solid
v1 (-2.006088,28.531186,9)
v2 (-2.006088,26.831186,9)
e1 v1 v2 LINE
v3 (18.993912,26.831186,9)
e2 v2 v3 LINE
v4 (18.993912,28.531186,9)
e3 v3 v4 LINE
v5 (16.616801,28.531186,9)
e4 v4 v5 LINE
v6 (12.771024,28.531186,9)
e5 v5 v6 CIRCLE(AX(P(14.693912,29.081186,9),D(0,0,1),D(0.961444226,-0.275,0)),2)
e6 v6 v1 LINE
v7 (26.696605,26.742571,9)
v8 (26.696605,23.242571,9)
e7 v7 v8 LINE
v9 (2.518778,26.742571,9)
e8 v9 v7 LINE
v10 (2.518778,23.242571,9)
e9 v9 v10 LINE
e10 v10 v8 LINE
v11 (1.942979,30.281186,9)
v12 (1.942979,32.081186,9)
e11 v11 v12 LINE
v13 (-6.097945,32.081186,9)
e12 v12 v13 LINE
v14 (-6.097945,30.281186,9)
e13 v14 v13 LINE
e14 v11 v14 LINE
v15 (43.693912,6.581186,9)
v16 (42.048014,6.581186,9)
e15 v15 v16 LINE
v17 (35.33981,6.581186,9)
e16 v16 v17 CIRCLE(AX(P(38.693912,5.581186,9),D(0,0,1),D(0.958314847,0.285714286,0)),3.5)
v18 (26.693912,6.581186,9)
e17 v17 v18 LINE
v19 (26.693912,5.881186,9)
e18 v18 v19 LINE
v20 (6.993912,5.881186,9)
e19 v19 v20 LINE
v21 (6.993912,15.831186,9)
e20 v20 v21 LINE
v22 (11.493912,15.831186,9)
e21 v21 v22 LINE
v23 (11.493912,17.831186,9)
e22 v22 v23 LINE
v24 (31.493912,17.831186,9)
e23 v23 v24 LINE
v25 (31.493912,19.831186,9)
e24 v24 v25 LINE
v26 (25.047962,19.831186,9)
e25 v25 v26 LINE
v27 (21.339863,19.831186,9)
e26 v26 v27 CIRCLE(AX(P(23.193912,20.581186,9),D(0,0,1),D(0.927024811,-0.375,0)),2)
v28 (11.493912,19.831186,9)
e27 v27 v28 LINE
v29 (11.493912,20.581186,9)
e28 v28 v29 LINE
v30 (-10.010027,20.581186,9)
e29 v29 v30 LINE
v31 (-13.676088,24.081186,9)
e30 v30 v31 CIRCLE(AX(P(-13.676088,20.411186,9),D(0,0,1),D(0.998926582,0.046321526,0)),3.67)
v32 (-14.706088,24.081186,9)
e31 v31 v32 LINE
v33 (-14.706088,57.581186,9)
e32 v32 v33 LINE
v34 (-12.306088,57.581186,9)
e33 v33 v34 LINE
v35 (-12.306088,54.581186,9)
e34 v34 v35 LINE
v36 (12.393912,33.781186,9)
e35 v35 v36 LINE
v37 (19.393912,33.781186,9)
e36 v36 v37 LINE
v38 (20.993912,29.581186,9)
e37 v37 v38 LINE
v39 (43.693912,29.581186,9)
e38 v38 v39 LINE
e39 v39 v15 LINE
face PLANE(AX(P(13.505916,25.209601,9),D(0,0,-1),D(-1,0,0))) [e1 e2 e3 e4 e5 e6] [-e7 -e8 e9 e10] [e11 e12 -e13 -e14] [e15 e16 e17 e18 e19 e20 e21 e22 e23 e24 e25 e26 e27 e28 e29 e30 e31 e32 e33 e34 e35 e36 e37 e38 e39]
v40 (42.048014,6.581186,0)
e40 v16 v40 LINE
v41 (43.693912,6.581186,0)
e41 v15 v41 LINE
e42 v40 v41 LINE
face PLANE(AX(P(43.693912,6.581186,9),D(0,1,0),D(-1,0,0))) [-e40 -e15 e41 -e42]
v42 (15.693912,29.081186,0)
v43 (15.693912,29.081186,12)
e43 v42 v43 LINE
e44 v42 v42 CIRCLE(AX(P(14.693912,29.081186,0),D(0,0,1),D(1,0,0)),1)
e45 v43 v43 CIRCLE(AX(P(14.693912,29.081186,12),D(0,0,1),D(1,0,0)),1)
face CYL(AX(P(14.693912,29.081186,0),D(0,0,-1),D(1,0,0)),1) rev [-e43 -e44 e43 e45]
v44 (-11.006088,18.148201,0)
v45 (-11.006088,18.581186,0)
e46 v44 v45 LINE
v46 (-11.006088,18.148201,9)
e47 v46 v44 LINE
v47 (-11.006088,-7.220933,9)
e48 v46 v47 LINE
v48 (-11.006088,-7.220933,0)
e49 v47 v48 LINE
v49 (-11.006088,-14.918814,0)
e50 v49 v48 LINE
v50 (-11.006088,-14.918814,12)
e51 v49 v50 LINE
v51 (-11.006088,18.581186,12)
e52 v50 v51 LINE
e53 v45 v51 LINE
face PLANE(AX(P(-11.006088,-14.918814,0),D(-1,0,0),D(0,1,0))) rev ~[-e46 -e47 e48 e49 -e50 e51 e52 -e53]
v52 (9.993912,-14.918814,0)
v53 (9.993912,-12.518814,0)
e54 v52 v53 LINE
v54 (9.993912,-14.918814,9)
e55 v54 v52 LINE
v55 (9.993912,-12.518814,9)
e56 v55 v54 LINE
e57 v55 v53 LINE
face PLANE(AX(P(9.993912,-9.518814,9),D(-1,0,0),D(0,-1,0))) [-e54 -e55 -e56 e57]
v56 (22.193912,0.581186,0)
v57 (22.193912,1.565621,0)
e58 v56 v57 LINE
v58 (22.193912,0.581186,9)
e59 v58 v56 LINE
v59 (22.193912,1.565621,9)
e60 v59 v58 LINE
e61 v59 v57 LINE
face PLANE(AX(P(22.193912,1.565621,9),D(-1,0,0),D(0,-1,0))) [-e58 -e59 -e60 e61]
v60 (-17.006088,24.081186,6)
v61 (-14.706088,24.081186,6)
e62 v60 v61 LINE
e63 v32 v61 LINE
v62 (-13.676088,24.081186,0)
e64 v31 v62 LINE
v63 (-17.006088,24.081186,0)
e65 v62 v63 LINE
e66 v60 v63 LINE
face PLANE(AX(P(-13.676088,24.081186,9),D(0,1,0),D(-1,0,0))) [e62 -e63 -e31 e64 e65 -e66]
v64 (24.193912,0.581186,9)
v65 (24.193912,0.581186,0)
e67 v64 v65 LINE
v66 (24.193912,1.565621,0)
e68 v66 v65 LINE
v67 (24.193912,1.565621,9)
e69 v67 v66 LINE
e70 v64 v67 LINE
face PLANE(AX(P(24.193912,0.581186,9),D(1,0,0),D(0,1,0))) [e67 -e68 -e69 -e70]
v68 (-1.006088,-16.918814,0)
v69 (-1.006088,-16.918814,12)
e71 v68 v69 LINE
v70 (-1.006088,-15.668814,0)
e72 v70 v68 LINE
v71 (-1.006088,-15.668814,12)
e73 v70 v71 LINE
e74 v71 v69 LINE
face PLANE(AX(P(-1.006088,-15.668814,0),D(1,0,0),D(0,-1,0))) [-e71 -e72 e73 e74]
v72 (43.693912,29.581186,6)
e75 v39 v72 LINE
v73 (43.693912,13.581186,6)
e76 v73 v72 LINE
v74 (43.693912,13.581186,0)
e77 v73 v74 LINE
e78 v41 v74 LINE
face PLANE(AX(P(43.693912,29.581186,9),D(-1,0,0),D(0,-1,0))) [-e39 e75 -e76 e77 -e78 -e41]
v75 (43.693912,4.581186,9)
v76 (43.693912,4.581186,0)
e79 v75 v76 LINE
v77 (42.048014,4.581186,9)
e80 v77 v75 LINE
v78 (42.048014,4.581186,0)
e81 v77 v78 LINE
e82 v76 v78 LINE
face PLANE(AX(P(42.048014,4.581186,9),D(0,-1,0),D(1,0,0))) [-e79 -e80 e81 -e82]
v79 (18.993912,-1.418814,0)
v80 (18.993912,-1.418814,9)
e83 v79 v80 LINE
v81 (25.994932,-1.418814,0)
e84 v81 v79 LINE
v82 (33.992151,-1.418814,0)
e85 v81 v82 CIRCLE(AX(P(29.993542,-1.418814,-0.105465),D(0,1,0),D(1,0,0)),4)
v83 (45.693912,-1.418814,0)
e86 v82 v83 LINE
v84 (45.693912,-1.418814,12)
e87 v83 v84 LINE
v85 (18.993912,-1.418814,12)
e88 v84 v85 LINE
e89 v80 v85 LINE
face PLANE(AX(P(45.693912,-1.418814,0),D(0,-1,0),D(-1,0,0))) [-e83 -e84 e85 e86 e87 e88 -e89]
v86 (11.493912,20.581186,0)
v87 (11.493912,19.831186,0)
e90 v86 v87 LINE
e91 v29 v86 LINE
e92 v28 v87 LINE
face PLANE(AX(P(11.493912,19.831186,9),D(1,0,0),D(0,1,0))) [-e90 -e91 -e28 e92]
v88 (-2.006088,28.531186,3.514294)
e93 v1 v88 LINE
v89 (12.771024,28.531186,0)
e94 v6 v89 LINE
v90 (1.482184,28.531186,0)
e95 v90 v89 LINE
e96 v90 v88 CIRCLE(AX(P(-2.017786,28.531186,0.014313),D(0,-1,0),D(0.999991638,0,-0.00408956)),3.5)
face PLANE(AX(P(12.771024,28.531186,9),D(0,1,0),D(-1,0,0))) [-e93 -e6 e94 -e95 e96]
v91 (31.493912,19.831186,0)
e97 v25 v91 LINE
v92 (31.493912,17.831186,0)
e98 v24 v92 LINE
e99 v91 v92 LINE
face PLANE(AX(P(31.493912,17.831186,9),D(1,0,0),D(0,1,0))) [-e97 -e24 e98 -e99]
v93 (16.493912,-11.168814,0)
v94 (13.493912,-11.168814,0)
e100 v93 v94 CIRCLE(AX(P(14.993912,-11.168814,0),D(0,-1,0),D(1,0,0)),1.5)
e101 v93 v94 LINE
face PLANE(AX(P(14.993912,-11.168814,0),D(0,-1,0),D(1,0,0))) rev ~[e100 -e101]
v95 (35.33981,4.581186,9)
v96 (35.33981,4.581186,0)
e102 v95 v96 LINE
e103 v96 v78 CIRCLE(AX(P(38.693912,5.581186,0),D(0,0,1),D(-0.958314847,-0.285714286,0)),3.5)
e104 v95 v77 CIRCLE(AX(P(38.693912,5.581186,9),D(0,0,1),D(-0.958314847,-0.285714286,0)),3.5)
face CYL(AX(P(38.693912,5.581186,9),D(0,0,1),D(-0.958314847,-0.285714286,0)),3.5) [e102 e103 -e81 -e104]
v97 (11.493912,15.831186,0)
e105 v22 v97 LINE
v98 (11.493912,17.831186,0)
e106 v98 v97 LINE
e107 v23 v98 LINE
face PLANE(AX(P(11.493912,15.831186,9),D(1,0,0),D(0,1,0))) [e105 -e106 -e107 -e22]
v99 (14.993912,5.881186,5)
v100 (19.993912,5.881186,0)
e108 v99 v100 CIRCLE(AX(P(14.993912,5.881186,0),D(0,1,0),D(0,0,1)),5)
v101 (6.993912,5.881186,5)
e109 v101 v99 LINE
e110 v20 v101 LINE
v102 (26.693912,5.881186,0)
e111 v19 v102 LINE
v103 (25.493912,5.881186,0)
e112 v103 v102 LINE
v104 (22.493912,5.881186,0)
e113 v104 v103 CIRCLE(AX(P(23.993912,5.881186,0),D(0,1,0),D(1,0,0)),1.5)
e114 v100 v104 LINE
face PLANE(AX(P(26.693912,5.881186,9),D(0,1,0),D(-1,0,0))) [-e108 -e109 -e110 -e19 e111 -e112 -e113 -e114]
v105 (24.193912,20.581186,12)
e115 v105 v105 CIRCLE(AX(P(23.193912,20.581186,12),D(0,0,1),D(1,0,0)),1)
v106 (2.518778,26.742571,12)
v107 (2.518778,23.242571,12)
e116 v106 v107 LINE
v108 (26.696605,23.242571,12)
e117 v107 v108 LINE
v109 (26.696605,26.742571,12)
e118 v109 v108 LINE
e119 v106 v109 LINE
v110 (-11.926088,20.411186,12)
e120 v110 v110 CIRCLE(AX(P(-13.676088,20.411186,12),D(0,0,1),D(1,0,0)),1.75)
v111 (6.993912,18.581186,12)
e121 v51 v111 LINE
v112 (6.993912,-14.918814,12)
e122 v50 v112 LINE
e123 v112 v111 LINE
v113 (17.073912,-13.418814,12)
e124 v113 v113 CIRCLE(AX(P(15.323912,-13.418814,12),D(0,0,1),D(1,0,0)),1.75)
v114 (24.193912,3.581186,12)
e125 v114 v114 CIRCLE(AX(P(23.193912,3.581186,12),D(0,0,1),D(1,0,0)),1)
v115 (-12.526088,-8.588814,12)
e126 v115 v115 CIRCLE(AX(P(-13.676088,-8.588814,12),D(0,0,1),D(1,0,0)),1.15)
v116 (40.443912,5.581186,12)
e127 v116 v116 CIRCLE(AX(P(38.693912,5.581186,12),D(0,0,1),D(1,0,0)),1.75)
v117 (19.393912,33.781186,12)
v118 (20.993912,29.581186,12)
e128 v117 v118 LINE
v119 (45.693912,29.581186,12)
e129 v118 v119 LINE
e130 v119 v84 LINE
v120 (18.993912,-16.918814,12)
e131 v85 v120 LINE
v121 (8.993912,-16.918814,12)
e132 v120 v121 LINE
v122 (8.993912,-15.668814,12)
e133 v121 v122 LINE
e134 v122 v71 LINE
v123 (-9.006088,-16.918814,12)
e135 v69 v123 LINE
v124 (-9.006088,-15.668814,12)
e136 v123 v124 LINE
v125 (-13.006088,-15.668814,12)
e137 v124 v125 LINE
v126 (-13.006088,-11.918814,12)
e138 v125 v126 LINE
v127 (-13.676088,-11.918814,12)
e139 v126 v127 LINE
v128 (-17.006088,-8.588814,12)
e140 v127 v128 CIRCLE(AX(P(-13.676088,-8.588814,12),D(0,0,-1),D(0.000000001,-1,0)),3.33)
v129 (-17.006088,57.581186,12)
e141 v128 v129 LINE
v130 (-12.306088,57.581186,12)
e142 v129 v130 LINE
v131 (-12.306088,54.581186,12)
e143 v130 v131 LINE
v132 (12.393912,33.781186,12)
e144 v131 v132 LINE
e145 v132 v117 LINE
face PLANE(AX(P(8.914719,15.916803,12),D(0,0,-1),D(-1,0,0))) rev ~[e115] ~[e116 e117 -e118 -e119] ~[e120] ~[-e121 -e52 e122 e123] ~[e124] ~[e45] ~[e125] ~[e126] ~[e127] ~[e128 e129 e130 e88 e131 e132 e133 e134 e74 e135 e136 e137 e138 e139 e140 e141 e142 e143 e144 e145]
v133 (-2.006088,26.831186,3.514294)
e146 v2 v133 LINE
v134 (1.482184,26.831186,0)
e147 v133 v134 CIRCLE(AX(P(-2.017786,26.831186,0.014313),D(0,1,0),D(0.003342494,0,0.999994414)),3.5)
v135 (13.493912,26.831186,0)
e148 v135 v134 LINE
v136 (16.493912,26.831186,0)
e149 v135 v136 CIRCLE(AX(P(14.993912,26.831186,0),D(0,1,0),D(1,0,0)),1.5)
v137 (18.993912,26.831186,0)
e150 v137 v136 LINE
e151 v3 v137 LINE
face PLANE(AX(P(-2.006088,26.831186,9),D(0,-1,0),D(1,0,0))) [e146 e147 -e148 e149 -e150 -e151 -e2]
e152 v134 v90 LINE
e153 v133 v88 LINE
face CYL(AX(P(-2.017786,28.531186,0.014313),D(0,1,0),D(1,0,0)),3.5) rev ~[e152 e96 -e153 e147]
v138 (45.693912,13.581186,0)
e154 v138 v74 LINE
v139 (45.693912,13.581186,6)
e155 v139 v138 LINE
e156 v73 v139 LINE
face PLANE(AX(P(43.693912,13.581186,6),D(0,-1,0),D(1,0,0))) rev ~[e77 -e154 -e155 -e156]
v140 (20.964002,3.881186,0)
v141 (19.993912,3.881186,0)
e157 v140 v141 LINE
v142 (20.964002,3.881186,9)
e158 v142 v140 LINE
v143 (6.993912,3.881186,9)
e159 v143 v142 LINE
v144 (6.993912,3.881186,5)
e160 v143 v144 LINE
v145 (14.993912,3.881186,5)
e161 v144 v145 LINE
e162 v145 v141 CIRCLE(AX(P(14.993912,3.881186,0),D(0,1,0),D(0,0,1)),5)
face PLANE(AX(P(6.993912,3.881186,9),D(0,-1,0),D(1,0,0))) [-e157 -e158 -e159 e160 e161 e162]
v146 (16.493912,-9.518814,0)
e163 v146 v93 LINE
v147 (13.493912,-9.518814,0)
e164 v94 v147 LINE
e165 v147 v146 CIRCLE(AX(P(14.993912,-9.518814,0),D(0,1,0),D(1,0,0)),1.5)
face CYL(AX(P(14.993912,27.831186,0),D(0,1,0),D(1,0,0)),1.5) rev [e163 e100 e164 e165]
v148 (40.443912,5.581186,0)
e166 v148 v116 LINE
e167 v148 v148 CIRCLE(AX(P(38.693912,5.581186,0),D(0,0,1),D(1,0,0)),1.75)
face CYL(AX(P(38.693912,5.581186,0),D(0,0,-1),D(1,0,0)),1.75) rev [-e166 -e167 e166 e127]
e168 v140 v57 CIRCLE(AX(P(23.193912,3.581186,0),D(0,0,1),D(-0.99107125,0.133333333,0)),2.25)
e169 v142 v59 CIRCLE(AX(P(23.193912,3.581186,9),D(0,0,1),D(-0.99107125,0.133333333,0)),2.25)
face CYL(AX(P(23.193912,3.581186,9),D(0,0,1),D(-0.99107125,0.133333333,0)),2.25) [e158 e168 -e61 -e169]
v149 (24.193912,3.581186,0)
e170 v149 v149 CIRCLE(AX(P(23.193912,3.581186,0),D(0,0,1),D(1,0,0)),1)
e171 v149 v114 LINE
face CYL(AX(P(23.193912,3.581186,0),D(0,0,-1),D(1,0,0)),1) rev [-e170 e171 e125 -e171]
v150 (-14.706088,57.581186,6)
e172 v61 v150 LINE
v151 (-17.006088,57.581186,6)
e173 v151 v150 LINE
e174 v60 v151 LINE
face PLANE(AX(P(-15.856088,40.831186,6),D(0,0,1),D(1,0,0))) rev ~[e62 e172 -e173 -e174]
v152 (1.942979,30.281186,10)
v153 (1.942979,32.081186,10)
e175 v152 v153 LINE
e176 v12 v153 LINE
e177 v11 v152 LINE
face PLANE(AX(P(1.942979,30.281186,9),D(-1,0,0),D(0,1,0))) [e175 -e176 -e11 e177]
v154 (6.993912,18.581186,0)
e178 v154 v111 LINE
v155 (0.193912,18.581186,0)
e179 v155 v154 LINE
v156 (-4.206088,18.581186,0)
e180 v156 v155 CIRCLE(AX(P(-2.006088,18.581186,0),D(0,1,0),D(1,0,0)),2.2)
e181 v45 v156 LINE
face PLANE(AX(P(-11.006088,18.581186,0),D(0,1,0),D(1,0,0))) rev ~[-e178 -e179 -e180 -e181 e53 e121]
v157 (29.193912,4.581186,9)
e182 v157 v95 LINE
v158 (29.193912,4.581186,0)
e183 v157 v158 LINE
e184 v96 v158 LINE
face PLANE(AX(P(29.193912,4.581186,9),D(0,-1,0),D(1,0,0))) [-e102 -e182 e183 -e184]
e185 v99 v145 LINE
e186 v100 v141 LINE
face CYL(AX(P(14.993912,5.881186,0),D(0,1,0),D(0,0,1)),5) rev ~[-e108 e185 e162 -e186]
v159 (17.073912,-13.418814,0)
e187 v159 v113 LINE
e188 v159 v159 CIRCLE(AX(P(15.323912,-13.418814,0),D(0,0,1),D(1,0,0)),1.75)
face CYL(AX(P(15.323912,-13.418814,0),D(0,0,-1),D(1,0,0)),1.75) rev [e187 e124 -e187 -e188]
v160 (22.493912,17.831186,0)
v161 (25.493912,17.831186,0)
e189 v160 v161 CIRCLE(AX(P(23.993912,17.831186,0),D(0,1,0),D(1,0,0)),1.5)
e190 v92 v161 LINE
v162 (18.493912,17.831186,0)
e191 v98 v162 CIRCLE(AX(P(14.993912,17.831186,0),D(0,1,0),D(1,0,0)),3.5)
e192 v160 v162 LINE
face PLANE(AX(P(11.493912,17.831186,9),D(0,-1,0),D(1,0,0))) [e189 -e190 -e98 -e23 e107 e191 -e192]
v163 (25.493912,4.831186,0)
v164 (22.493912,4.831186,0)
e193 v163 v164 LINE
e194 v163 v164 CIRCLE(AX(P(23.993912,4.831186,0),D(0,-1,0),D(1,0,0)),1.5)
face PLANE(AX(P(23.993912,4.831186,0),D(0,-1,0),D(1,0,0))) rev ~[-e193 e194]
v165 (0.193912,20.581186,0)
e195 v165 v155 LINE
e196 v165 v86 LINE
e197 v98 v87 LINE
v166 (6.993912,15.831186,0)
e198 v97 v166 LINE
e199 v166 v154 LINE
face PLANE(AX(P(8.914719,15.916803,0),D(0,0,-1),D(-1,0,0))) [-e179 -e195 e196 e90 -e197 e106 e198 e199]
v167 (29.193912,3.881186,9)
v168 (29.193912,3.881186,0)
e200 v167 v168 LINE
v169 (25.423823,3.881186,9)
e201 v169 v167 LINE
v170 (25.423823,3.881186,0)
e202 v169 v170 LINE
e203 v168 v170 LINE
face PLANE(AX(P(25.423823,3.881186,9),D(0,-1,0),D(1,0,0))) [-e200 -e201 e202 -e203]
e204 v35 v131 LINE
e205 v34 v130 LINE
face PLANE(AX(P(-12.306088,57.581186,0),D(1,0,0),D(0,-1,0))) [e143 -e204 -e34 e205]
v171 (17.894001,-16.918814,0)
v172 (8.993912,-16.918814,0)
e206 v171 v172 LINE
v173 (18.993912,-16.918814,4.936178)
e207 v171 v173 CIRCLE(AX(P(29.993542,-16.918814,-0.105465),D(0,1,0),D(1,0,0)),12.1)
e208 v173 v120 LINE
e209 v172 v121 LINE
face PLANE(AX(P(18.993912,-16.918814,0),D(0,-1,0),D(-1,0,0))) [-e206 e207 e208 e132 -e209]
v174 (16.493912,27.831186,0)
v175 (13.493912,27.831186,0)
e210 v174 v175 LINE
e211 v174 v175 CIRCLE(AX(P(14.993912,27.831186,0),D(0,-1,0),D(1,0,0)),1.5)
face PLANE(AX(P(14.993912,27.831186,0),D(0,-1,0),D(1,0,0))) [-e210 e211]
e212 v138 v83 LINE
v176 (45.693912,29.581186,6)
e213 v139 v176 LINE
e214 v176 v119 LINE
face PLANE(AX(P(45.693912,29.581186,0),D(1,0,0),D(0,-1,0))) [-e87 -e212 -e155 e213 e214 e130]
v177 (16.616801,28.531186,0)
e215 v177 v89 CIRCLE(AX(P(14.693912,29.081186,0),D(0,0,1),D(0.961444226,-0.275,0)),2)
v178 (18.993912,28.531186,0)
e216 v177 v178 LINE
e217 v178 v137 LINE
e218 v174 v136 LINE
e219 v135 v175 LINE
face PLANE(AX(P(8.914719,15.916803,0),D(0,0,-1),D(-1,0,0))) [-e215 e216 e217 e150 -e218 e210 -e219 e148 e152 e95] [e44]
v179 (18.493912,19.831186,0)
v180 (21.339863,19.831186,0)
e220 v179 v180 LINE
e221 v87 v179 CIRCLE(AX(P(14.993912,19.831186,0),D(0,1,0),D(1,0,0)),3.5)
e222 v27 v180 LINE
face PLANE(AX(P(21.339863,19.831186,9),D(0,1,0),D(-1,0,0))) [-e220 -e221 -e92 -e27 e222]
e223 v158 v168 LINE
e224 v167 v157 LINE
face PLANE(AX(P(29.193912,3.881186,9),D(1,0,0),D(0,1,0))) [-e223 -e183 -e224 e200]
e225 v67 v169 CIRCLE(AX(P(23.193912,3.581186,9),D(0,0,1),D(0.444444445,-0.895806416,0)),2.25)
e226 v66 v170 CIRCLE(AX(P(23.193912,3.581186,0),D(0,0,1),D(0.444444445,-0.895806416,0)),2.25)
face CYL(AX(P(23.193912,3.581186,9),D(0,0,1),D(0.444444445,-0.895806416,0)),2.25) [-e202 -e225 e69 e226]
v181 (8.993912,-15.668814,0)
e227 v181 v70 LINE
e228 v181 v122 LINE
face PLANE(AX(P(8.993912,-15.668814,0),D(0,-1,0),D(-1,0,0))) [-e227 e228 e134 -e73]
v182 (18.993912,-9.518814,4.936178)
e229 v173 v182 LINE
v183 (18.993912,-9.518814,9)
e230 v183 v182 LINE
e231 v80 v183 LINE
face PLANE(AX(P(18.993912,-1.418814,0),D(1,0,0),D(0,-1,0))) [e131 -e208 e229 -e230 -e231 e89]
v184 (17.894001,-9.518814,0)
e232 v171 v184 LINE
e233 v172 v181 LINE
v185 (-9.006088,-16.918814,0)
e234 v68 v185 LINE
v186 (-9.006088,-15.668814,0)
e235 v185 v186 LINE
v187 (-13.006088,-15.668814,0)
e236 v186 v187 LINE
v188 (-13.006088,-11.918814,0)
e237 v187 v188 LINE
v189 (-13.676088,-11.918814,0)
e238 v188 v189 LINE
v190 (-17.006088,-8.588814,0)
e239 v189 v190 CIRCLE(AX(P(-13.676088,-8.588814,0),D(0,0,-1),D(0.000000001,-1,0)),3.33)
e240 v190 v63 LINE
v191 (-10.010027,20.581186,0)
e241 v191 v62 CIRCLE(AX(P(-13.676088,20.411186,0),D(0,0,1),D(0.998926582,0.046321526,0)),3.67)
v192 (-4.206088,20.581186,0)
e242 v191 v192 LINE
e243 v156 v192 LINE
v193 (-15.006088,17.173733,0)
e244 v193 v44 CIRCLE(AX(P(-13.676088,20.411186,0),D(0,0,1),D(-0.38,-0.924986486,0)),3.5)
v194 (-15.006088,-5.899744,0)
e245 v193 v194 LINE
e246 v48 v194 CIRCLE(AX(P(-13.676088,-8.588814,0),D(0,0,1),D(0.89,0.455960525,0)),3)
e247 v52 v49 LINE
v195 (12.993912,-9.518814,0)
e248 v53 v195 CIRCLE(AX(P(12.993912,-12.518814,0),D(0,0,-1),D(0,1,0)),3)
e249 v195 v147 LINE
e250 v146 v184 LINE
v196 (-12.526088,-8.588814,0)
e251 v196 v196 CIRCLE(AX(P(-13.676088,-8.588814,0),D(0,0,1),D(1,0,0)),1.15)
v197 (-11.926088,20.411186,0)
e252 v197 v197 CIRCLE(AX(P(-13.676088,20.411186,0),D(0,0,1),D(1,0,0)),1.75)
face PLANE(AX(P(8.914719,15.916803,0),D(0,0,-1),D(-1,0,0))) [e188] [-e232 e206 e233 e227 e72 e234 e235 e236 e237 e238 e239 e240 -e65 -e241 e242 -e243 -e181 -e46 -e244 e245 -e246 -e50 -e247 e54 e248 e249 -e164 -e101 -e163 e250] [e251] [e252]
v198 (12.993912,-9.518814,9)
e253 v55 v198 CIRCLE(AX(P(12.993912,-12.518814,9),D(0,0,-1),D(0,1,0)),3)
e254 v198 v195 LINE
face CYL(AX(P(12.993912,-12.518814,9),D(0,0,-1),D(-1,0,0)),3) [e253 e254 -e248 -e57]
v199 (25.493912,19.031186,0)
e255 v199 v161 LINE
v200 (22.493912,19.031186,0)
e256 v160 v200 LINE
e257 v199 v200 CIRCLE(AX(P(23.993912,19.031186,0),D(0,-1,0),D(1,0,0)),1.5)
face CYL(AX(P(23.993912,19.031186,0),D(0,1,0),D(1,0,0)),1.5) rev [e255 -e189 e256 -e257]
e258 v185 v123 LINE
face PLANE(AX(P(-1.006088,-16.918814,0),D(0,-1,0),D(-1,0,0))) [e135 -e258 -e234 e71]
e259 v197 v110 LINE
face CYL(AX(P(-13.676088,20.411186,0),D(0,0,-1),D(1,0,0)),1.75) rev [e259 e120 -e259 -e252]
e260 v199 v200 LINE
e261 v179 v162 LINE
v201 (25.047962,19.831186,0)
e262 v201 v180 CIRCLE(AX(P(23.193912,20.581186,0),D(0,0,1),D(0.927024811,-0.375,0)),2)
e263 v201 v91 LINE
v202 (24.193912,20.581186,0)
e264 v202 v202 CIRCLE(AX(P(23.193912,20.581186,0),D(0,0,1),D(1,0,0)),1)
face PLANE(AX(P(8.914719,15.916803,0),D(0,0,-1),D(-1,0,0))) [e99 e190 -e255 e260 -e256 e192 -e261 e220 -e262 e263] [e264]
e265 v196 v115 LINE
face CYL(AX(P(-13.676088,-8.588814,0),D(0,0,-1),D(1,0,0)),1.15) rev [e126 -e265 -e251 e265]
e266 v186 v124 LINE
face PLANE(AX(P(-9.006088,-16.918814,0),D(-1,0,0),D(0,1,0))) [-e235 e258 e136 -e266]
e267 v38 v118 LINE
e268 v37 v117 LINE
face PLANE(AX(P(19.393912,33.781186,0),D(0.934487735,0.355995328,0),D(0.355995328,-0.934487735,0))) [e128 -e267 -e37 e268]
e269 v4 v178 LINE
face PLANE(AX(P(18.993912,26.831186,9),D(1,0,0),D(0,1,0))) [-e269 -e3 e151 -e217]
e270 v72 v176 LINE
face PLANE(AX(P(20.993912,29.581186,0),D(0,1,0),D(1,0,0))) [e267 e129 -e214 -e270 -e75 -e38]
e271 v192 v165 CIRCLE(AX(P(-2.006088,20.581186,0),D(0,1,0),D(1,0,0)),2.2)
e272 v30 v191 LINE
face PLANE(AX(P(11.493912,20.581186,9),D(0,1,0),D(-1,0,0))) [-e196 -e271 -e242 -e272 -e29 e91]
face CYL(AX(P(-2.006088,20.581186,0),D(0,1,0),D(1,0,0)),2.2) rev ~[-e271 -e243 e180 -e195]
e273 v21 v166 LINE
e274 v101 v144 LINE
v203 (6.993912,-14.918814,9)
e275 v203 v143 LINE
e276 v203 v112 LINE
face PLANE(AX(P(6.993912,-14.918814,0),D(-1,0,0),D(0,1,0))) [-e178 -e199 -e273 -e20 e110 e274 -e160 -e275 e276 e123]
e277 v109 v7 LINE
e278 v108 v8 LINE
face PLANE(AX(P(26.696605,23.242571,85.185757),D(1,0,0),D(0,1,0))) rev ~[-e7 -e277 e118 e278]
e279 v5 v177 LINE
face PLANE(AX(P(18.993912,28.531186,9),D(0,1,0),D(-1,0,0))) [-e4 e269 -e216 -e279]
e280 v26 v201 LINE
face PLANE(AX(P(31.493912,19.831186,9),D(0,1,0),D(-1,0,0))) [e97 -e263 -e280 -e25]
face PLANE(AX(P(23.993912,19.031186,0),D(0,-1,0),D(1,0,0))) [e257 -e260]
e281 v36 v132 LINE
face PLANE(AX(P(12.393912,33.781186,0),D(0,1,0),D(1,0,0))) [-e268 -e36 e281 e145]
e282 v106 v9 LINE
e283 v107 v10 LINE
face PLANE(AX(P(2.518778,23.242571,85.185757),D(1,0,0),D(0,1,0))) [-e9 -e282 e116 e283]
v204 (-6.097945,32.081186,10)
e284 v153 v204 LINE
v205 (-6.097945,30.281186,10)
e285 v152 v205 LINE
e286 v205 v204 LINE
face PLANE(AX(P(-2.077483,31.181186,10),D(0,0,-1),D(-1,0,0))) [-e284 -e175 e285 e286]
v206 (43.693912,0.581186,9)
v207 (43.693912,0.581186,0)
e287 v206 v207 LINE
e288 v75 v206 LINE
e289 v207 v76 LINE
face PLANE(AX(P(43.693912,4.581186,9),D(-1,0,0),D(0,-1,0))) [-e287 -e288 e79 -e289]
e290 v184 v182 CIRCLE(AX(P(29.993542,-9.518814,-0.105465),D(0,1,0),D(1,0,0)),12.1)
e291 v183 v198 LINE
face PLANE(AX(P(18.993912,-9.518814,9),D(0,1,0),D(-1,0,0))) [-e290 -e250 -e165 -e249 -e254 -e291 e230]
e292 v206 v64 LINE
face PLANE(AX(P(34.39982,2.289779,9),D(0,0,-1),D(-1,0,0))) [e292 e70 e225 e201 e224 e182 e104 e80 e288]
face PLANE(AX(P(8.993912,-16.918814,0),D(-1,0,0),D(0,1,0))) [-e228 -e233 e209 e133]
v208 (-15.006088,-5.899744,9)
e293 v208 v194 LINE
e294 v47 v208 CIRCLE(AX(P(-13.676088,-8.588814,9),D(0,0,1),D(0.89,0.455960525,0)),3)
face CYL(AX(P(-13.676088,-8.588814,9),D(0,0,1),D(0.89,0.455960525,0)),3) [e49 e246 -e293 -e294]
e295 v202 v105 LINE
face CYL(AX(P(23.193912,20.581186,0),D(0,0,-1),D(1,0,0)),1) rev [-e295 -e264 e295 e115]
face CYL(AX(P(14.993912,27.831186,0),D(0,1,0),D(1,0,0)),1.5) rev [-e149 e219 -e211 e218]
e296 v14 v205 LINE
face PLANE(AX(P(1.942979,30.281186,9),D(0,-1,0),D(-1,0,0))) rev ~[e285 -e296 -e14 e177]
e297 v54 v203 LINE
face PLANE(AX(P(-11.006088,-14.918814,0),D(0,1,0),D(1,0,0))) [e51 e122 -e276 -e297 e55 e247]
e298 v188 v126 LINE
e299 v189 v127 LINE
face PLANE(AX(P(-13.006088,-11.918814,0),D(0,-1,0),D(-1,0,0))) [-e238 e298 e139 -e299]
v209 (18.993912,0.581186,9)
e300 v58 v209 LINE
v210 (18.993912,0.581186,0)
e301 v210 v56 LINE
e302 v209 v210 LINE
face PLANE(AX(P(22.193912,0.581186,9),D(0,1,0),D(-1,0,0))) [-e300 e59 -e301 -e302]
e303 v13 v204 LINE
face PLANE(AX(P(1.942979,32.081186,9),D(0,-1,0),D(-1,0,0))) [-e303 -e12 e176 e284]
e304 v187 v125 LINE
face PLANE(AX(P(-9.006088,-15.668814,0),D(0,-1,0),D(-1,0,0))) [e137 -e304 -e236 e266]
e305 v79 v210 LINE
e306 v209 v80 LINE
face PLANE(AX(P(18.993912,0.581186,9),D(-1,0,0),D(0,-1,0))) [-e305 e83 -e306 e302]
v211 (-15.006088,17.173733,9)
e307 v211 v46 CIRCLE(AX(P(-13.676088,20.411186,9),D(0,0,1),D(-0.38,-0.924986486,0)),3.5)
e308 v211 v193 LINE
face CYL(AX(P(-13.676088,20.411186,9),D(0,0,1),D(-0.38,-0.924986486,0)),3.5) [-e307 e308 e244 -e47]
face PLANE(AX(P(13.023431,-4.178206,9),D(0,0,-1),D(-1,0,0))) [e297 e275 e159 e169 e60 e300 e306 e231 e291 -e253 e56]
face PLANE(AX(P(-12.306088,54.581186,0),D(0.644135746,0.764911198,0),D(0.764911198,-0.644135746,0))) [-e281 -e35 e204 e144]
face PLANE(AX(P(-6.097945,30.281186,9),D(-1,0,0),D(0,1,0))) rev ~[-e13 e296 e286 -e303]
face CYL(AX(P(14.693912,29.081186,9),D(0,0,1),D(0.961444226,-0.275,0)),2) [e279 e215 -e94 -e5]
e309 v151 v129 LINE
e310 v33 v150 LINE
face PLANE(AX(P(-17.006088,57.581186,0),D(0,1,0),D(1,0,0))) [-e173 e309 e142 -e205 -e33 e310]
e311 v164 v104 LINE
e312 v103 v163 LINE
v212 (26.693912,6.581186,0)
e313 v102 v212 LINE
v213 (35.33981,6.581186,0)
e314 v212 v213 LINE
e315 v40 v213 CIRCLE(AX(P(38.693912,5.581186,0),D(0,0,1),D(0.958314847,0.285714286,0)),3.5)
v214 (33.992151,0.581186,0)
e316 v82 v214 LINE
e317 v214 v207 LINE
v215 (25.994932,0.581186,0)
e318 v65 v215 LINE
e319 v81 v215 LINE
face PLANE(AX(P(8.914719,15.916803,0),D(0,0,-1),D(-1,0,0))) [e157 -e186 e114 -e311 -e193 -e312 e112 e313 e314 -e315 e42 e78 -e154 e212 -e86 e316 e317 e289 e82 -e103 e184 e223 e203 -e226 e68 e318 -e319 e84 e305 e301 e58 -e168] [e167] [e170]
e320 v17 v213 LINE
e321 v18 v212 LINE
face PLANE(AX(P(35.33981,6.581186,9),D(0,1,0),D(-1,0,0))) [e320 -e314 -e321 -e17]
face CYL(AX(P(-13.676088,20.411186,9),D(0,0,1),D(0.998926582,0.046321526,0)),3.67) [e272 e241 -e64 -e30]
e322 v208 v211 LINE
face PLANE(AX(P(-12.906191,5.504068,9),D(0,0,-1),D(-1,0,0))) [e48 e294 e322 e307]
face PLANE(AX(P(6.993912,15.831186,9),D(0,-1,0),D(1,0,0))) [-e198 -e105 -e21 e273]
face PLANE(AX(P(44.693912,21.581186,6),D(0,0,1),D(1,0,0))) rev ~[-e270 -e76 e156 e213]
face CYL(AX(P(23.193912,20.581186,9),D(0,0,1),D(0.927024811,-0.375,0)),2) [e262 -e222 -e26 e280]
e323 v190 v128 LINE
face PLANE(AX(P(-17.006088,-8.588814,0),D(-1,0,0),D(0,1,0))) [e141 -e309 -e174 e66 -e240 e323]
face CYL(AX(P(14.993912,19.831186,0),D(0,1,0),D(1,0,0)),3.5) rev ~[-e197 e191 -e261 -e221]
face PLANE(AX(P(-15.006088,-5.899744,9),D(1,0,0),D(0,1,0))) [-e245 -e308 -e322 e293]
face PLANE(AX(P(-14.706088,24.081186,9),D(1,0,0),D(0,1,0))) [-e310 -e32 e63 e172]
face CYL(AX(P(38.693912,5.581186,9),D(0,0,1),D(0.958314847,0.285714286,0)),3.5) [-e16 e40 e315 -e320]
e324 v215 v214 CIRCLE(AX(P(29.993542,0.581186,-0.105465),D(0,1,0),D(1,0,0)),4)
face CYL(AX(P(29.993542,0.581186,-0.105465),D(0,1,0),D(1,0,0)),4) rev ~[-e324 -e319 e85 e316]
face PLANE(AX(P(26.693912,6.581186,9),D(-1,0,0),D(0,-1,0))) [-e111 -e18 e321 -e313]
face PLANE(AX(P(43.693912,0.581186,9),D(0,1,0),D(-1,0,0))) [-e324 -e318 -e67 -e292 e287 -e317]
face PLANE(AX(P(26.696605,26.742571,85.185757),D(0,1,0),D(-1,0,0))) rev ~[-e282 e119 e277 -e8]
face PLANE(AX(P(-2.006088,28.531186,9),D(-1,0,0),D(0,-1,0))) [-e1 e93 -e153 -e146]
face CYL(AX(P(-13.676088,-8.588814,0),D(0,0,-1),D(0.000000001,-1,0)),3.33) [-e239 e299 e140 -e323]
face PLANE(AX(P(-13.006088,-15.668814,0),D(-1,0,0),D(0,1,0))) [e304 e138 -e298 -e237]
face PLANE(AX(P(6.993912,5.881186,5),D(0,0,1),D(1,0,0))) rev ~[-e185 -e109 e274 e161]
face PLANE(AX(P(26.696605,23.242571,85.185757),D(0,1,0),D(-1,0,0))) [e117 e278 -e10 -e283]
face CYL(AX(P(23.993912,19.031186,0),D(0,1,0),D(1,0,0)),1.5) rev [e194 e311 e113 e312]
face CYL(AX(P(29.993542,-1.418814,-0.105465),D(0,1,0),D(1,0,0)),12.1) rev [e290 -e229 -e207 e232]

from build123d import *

# Parameters (mm, degrees)
ESQUISSE1_R                   = 1.15
ESQUISSE1_R_2                 = 1.75
ESQUISSE1_R_3                 = 1
ESQUISSE1_W                   = 18
ESQUISSE1_H                   = 33.5
BOSS_EXTRU_2_DEPTH            = 12
ENL_V_MAT_EXTRU_1_DEPTH       = 75.057589753
ESQUISSE3_W                   = 2.3
ESQUISSE3_H                   = 33.5
ESQUISSE3_W_2                 = 2
ESQUISSE3_H_2                 = 16
ENL_V_MAT_EXTRU_2_DEPTH       = 74.753146373
CONG_1_R                      = 3
ENL_V_MAT_EXTRU_3_REACH       = 62.317
ESQUISSE4_R                   = 2.2
ENL_V_MAT_EXTRU_4_REACH       = 67.556
ESQUISSE5_R                   = 3.5
ESQUISSE6_R                   = 3.5
ENL_V_MAT_EXTRU_5_DEPTH       = 5
ESQUISSE7_W                   = 8.040923999
ESQUISSE7_H                   = 1.8
ENL_V_MAT_EXTRU_6_DEPTH       = 1
ENL_V_MAT_EXTRU_7_DEPTH       = 3
ENL_V_MAT_EXTRU_7_DEPTH_BACK  = 75.185757393
ESQUISSE8_W                   = 24.177827552
ESQUISSE8_H                   = 3.5
ENL_V_MAT_EXTRU_8_REACH       = 72.034
ENL_V_MAT_EXTRU_9_REACH       = 76.033
ESQUISSE10_R                  = 4
ESQUISSE11_R                  = 12.099999999
ENL_V_MAT_EXTRU_10_DEPTH      = 76.583950893
ENL_V_MAT_EXTRU_11_DEPTH      = 38
ENL_V_MAT_EXTRU_11_DEPTH_BACK = 1
ESQUISSE17_R                  = 1.5
ENL_V_MAT_EXTRU_12_DEPTH      = 13
ENL_V_MAT_EXTRU_12_DEPTH_BACK = 1.2
ESQUISSE18_R                  = 1.5


with BuildPart() as part:
    # Esquisse1 → Boss.-Extru.2 (new body)
    with BuildSketch(Plane.XY):
        with BuildLine():
            Line((-12.306087575, 57.58118588), (-12.306087575, 54.58118588))
            Line((-12.306087575, 54.58118588), (12.393912425, 33.78118588))
            Line((12.393912425, 33.78118588), (19.393912425, 33.78118588))
            Line((19.393912425, 33.78118588), (20.993912425, 29.58118588))
            Line((20.993912425, 29.58118588), (45.693912425, 29.58118588))
            Line((45.693912425, 29.58118588), (45.693912425, -1.41881412))
            Line((45.693912425, -1.41881412), (18.993912425, -1.41881412))
            Line((18.993912425, -1.41881412), (18.993912425, -16.91881412))
            Line((18.993912425, -16.91881412), (8.993912425, -16.91881412))
            Line((8.993912425, -16.91881412), (8.993912425, -15.66881412))
            Line((8.993912425, -15.66881412), (-1.006087575, -15.66881412))
            Line((-1.006087575, -15.66881412), (-1.006087575, -16.91881412))
            Line((-1.006087575, -16.91881412), (-9.006087575, -16.91881412))
            Line((-9.006087575, -16.91881412), (-9.006087575, -15.66881412))
            Line((-9.006087575, -15.66881412), (-13.006087575, -15.66881412))
            Line((-13.006087575, -15.66881412), (-13.006087575, -11.91881412))
            Line((-13.006087575, -11.91881412), (-13.676087575, -11.91881412))
            ThreePointArc((-13.676087575, -11.91881412), (-16.030753157, -10.943479702), (-17.006087575, -8.58881412))
            Line((-17.006087575, -8.58881412), (-17.006087575, 57.58118588))
            Line((-17.006087575, 57.58118588), (-12.306087575, 57.58118588))
        make_face()
        with Locations((-13.676087575, -8.58881412)):
            Circle(ESQUISSE1_R, mode=Mode.SUBTRACT)
        with Locations((-13.676087575, 20.41118588)):
            Circle(ESQUISSE1_R_2, mode=Mode.SUBTRACT)
        with Locations((15.323912425, -13.41881412)):
            Circle(ESQUISSE1_R_2, mode=Mode.SUBTRACT)
        with Locations((38.693912425, 5.58118588)):
            Circle(ESQUISSE1_R_2, mode=Mode.SUBTRACT)
        with Locations((23.193912425, 3.58118588)):
            Circle(ESQUISSE1_R_3, mode=Mode.SUBTRACT)
        with Locations((23.193912425, 20.58118588)):
            Circle(ESQUISSE1_R_3, mode=Mode.SUBTRACT)
        with Locations((14.693912425, 29.08118588)):
            Circle(ESQUISSE1_R_3, mode=Mode.SUBTRACT)
        with Locations((-2.006087575, 1.83118588)):
            Rectangle(ESQUISSE1_W, ESQUISSE1_H, mode=Mode.SUBTRACT)
    extrude(amount=BOSS_EXTRU_2_DEPTH)

    # Esquisse2 → Enlèv. mat.-Extru.1 (cut, through all)
    # profile 1 of 4: a face of its own
    with BuildSketch(Plane.XY.offset(9)):
        with BuildLine():
            ThreePointArc((25.047962046, 19.83118588), (23.193912425, 22.58118588), (21.339862803, 19.83118588))
            Line((21.339862803, 19.83118588), (11.493912425, 19.83118588))
            Line((11.493912425, 19.83118588), (11.493912425, 20.58118588))
            Line((11.493912425, 20.58118588), (-10.010027019, 20.58118588))
            ThreePointArc((-10.010027019, 20.58118588), (-11.141822396, 23.065691483), (-13.676087575, 24.08118588))
            Line((-13.676087575, 24.08118588), (-14.706087575, 24.08118588))
            Line((-14.706087575, 24.08118588), (-14.706087575, 57.58118588))
            Line((-14.706087575, 57.58118588), (-12.306087575, 57.58118588))
            Line((-12.306087575, 57.58118588), (-12.306087575, 54.58118588))
            Line((-12.306087575, 54.58118588), (12.393912425, 33.78118588))
            Line((12.393912425, 33.78118588), (19.393912425, 33.78118588))
            Line((19.393912425, 33.78118588), (20.993912425, 29.58118588))
            Line((20.993912425, 29.58118588), (43.693912425, 29.58118588))
            Line((43.693912425, 29.58118588), (43.693912425, 6.58118588))
            Line((43.693912425, 6.58118588), (42.048014391, 6.58118588))
            ThreePointArc((42.048014391, 6.58118588), (38.693912425, 9.08118588), (35.339810458, 6.58118588))
            Line((35.339810458, 6.58118588), (26.693912425, 6.58118588))
            Line((26.693912425, 6.58118588), (26.693912425, 5.88118588))
            Line((26.693912425, 5.88118588), (6.993912425, 5.88118588))
            Line((6.993912425, 5.88118588), (6.993912425, 15.83118588))
            Line((6.993912425, 15.83118588), (11.493912425, 15.83118588))
            Line((11.493912425, 15.83118588), (11.493912425, 17.83118588))
            Line((11.493912425, 17.83118588), (31.493912425, 17.83118588))
            Line((31.493912425, 17.83118588), (31.493912425, 19.83118588))
            Line((31.493912425, 19.83118588), (25.047962046, 19.83118588))
        make_face()
        with BuildLine():
            ThreePointArc((16.616800877, 28.53118588), (14.693912425, 31.08118588), (12.771023972, 28.53118588))
            Line((12.771023972, 28.53118588), (-2.006087575, 28.53118588))
            Line((-2.006087575, 28.53118588), (-2.006087575, 26.83118588))
            Line((-2.006087575, 26.83118588), (18.993912425, 26.83118588))
            Line((18.993912425, 26.83118588), (18.993912425, 28.53118588))
            Line((18.993912425, 28.53118588), (16.616800877, 28.53118588))
        make_face(mode=Mode.SUBTRACT)
    # profile 2 of 4: a face of its own
    with BuildSketch(Plane.XY.offset(9)):
        with BuildLine():
            ThreePointArc((20.964002112, 3.88118588), (21.206819115, 2.52574276), (22.193912425, 1.565621443))
            Line((22.193912425, 1.565621443), (22.193912425, 0.58118588))
            Line((22.193912425, 0.58118588), (18.993912425, 0.58118588))
            Line((18.993912425, 0.58118588), (18.993912425, -9.51881412))
            Line((18.993912425, -9.51881412), (9.993912425, -9.51881412))
            Line((9.993912425, -9.51881412), (9.993912425, -14.91881412))
            Line((9.993912425, -14.91881412), (6.993912425, -14.91881412))
            Line((6.993912425, -14.91881412), (6.993912425, 3.88118588))
            Line((6.993912425, 3.88118588), (20.964002112, 3.88118588))
        make_face()
    # profile 3 of 4: a face of its own
    with BuildSketch(Plane.XY.offset(9)):
        with BuildLine():
            ThreePointArc((-15.006087575, 17.173733177), (-12.847657165, 17.010641356), (-11.006087575, 18.148201125))
            Line((-11.006087575, 18.148201125), (-11.006087575, -7.220932547))
            ThreePointArc((-11.006087575, -7.220932547), (-12.735191712, -5.740180242), (-15.006087575, -5.899743649))
            Line((-15.006087575, -5.899743649), (-15.006087575, 17.173733177))
        make_face()
    # profile 4 of 4: a face of its own
    with BuildSketch(Plane.XY.offset(9)):
        with BuildLine():
            ThreePointArc((24.193912425, 1.565621443), (25.181005734, 2.52574276), (25.423822737, 3.88118588))
            Line((25.423822737, 3.88118588), (29.193912425, 3.88118588))
            Line((29.193912425, 3.88118588), (29.193912425, 4.58118588))
            Line((29.193912425, 4.58118588), (35.339810458, 4.58118588))
            ThreePointArc((35.339810458, 4.58118588), (38.693912425, 2.08118588), (42.048014391, 4.58118588))
            Line((42.048014391, 4.58118588), (43.693912425, 4.58118588))
            Line((43.693912425, 4.58118588), (43.693912425, 0.58118588))
            Line((43.693912425, 0.58118588), (24.193912425, 0.58118588))
            Line((24.193912425, 0.58118588), (24.193912425, 1.565621443))
        make_face()
    extrude(amount=-ENL_V_MAT_EXTRU_1_DEPTH, mode=Mode.SUBTRACT)

    # Esquisse3 → Enlèv. mat.-Extru.2 (cut, through all)
    with BuildSketch(Plane.XY.offset(6)):
        with Locations((-15.856087575, 40.83118588)):
            Rectangle(ESQUISSE3_W, ESQUISSE3_H)
        with Locations((44.693912425, 21.58118588)):
            Rectangle(ESQUISSE3_W_2, ESQUISSE3_H_2)
    extrude(amount=-ENL_V_MAT_EXTRU_2_DEPTH, mode=Mode.SUBTRACT)

    # Congé1
    cong_1_edges = [part.edges().sort_by_distance(p)[0] for p in [
        (9.993912425, -9.51881412, 4.5),
    ]]
    fillet(cong_1_edges, radius=CONG_1_R)

    # Esquisse4 → Enlèv. mat.-Extru.3 (cut, up to next)
    with BuildSketch(Plane(origin=(0, 20.58118588, 0), x_dir=(1, 0, 0), z_dir=(0, 1, 0)), mode=Mode.PRIVATE) as enl_v_mat_extru_3_sk1:
        with Locations((-2.006087575, 0)):
            Circle(ESQUISSE4_R)
    enl_v_mat_extru_3_tool1 = extrude(enl_v_mat_extru_3_sk1.sketch, amount=-ENL_V_MAT_EXTRU_3_REACH, mode=Mode.PRIVATE) & part.part
    add(enl_v_mat_extru_3_tool1.solids().sort_by_distance((-2.006088, 20.581186, 0))[0], mode=Mode.SUBTRACT)

    # Esquisse5 → Enlèv. mat.-Extru.4 (cut, up to next)
    with BuildSketch(Plane(origin=(0, 28.53118588, 0), x_dir=(1, 0, 0), z_dir=(0, 1, 0)), mode=Mode.PRIVATE) as enl_v_mat_extru_4_sk1:
        with Locations((-2.017786304, -0.014313461)):
            Circle(ESQUISSE5_R)
    enl_v_mat_extru_4_tool1 = extrude(enl_v_mat_extru_4_sk1.sketch, amount=-ENL_V_MAT_EXTRU_4_REACH, mode=Mode.PRIVATE) & part.part
    add(enl_v_mat_extru_4_tool1.solids().sort_by_distance((-2.017786, 28.531186, 0.014313))[0], mode=Mode.SUBTRACT)

    # Esquisse6 → Enlèv. mat.-Extru.5 (cut)
    with BuildSketch(Plane(origin=(0, 19.83118588, 0), x_dir=(1, 0, 0), z_dir=(0, 1, 0))):
        with Locations((14.993912425, 0)):
            Circle(ESQUISSE6_R)
    extrude(amount=-ENL_V_MAT_EXTRU_5_DEPTH, mode=Mode.SUBTRACT)

    # Esquisse7 → Enlèv. mat.-Extru.6 (cut)
    with BuildSketch(Plane(origin=(0, 0, 9), x_dir=(-1, 0, 0), z_dir=(0, 0, -1))):
        with Locations((2.077482888, 31.18118588)):
            Rectangle(ESQUISSE7_W, ESQUISSE7_H)
    extrude(amount=-ENL_V_MAT_EXTRU_6_DEPTH, mode=Mode.SUBTRACT)

    # Esquisse8 → Enlèv. mat.-Extru.7 (cut, two sides: drawn at the far end of the back side and taken through both)
    with BuildSketch(Plane(origin=(0, 0, 10), x_dir=(-1, 0, 0), z_dir=(0, 0, -1)).offset(-ENL_V_MAT_EXTRU_7_DEPTH_BACK)):
        with Locations((-14.607691418, 24.992571009)):
            Rectangle(ESQUISSE8_W, ESQUISSE8_H)
    extrude(amount=ENL_V_MAT_EXTRU_7_DEPTH + ENL_V_MAT_EXTRU_7_DEPTH_BACK, mode=Mode.SUBTRACT)

    # Esquisse9 → Enlèv. mat.-Extru.8 (cut, up to next)
    with BuildSketch(Plane(origin=(0, 5.88118588, 0), x_dir=(1, 0, 0), z_dir=(0, 1, 0)), mode=Mode.PRIVATE) as enl_v_mat_extru_8_sk1:
        with BuildLine():
            Line((19.993912425, 0), (6.993912425, 0))
            Line((6.993912425, 0), (6.993912425, -5))
            Line((6.993912425, -5), (14.993912425, -5))
            ThreePointArc((14.993912425, -5), (18.529446331, -3.535533906), (19.993912425, 0))
        make_face()
    enl_v_mat_extru_8_tool1 = extrude(enl_v_mat_extru_8_sk1.sketch, amount=-ENL_V_MAT_EXTRU_8_REACH, mode=Mode.PRIVATE) & part.part
    add(enl_v_mat_extru_8_tool1.solids().sort_by_distance((13.009618, 5.881186, 2.375564))[0], mode=Mode.SUBTRACT)

    # Esquisse10 → Enlèv. mat.-Extru.9 (cut, up to next)
    with BuildSketch(Plane(origin=(0, 0.58118588, 0), x_dir=(1, 0, 0), z_dir=(0, 1, 0)), mode=Mode.PRIVATE) as enl_v_mat_extru_9_sk1:
        with Locations((29.993541661, 0.105464602)):
            Circle(ESQUISSE10_R)
    enl_v_mat_extru_9_tool1 = extrude(enl_v_mat_extru_9_sk1.sketch, amount=-ENL_V_MAT_EXTRU_9_REACH, mode=Mode.PRIVATE) & part.part
    add(enl_v_mat_extru_9_tool1.solids().sort_by_distance((29.993542, 0.581186, -0.105465))[0], mode=Mode.SUBTRACT)

    # Esquisse11 → Enlèv. mat.-Extru.10 (cut, through all)
    with BuildSketch(Plane.XZ.offset(1.41881412)):
        with Locations((29.993541661, -0.105464602)):
            Circle(ESQUISSE11_R)
    extrude(amount=ENL_V_MAT_EXTRU_10_DEPTH, mode=Mode.SUBTRACT)

    # Esquisse17 → Enlèv. mat.-Extru.11 (cut, two sides: drawn at the far end of the back side and taken through both)
    with BuildSketch(Plane.XZ.offset(-26.83118588).offset(-ENL_V_MAT_EXTRU_11_DEPTH_BACK)):
        with Locations((14.993912425, 0)):
            Circle(ESQUISSE17_R)
    extrude(amount=ENL_V_MAT_EXTRU_11_DEPTH + ENL_V_MAT_EXTRU_11_DEPTH_BACK, mode=Mode.SUBTRACT)

    # Esquisse18 → Enlèv. mat.-Extru.12 (cut, two sides: drawn at the far end of the back side and taken through both)
    with BuildSketch(Plane.XZ.offset(-17.83118588).offset(-ENL_V_MAT_EXTRU_12_DEPTH_BACK)):
        with Locations((23.993912425, 0)):
            Circle(ESQUISSE18_R)
    extrude(amount=ENL_V_MAT_EXTRU_12_DEPTH + ENL_V_MAT_EXTRU_12_DEPTH_BACK, mode=Mode.SUBTRACT)


solid = part.part
